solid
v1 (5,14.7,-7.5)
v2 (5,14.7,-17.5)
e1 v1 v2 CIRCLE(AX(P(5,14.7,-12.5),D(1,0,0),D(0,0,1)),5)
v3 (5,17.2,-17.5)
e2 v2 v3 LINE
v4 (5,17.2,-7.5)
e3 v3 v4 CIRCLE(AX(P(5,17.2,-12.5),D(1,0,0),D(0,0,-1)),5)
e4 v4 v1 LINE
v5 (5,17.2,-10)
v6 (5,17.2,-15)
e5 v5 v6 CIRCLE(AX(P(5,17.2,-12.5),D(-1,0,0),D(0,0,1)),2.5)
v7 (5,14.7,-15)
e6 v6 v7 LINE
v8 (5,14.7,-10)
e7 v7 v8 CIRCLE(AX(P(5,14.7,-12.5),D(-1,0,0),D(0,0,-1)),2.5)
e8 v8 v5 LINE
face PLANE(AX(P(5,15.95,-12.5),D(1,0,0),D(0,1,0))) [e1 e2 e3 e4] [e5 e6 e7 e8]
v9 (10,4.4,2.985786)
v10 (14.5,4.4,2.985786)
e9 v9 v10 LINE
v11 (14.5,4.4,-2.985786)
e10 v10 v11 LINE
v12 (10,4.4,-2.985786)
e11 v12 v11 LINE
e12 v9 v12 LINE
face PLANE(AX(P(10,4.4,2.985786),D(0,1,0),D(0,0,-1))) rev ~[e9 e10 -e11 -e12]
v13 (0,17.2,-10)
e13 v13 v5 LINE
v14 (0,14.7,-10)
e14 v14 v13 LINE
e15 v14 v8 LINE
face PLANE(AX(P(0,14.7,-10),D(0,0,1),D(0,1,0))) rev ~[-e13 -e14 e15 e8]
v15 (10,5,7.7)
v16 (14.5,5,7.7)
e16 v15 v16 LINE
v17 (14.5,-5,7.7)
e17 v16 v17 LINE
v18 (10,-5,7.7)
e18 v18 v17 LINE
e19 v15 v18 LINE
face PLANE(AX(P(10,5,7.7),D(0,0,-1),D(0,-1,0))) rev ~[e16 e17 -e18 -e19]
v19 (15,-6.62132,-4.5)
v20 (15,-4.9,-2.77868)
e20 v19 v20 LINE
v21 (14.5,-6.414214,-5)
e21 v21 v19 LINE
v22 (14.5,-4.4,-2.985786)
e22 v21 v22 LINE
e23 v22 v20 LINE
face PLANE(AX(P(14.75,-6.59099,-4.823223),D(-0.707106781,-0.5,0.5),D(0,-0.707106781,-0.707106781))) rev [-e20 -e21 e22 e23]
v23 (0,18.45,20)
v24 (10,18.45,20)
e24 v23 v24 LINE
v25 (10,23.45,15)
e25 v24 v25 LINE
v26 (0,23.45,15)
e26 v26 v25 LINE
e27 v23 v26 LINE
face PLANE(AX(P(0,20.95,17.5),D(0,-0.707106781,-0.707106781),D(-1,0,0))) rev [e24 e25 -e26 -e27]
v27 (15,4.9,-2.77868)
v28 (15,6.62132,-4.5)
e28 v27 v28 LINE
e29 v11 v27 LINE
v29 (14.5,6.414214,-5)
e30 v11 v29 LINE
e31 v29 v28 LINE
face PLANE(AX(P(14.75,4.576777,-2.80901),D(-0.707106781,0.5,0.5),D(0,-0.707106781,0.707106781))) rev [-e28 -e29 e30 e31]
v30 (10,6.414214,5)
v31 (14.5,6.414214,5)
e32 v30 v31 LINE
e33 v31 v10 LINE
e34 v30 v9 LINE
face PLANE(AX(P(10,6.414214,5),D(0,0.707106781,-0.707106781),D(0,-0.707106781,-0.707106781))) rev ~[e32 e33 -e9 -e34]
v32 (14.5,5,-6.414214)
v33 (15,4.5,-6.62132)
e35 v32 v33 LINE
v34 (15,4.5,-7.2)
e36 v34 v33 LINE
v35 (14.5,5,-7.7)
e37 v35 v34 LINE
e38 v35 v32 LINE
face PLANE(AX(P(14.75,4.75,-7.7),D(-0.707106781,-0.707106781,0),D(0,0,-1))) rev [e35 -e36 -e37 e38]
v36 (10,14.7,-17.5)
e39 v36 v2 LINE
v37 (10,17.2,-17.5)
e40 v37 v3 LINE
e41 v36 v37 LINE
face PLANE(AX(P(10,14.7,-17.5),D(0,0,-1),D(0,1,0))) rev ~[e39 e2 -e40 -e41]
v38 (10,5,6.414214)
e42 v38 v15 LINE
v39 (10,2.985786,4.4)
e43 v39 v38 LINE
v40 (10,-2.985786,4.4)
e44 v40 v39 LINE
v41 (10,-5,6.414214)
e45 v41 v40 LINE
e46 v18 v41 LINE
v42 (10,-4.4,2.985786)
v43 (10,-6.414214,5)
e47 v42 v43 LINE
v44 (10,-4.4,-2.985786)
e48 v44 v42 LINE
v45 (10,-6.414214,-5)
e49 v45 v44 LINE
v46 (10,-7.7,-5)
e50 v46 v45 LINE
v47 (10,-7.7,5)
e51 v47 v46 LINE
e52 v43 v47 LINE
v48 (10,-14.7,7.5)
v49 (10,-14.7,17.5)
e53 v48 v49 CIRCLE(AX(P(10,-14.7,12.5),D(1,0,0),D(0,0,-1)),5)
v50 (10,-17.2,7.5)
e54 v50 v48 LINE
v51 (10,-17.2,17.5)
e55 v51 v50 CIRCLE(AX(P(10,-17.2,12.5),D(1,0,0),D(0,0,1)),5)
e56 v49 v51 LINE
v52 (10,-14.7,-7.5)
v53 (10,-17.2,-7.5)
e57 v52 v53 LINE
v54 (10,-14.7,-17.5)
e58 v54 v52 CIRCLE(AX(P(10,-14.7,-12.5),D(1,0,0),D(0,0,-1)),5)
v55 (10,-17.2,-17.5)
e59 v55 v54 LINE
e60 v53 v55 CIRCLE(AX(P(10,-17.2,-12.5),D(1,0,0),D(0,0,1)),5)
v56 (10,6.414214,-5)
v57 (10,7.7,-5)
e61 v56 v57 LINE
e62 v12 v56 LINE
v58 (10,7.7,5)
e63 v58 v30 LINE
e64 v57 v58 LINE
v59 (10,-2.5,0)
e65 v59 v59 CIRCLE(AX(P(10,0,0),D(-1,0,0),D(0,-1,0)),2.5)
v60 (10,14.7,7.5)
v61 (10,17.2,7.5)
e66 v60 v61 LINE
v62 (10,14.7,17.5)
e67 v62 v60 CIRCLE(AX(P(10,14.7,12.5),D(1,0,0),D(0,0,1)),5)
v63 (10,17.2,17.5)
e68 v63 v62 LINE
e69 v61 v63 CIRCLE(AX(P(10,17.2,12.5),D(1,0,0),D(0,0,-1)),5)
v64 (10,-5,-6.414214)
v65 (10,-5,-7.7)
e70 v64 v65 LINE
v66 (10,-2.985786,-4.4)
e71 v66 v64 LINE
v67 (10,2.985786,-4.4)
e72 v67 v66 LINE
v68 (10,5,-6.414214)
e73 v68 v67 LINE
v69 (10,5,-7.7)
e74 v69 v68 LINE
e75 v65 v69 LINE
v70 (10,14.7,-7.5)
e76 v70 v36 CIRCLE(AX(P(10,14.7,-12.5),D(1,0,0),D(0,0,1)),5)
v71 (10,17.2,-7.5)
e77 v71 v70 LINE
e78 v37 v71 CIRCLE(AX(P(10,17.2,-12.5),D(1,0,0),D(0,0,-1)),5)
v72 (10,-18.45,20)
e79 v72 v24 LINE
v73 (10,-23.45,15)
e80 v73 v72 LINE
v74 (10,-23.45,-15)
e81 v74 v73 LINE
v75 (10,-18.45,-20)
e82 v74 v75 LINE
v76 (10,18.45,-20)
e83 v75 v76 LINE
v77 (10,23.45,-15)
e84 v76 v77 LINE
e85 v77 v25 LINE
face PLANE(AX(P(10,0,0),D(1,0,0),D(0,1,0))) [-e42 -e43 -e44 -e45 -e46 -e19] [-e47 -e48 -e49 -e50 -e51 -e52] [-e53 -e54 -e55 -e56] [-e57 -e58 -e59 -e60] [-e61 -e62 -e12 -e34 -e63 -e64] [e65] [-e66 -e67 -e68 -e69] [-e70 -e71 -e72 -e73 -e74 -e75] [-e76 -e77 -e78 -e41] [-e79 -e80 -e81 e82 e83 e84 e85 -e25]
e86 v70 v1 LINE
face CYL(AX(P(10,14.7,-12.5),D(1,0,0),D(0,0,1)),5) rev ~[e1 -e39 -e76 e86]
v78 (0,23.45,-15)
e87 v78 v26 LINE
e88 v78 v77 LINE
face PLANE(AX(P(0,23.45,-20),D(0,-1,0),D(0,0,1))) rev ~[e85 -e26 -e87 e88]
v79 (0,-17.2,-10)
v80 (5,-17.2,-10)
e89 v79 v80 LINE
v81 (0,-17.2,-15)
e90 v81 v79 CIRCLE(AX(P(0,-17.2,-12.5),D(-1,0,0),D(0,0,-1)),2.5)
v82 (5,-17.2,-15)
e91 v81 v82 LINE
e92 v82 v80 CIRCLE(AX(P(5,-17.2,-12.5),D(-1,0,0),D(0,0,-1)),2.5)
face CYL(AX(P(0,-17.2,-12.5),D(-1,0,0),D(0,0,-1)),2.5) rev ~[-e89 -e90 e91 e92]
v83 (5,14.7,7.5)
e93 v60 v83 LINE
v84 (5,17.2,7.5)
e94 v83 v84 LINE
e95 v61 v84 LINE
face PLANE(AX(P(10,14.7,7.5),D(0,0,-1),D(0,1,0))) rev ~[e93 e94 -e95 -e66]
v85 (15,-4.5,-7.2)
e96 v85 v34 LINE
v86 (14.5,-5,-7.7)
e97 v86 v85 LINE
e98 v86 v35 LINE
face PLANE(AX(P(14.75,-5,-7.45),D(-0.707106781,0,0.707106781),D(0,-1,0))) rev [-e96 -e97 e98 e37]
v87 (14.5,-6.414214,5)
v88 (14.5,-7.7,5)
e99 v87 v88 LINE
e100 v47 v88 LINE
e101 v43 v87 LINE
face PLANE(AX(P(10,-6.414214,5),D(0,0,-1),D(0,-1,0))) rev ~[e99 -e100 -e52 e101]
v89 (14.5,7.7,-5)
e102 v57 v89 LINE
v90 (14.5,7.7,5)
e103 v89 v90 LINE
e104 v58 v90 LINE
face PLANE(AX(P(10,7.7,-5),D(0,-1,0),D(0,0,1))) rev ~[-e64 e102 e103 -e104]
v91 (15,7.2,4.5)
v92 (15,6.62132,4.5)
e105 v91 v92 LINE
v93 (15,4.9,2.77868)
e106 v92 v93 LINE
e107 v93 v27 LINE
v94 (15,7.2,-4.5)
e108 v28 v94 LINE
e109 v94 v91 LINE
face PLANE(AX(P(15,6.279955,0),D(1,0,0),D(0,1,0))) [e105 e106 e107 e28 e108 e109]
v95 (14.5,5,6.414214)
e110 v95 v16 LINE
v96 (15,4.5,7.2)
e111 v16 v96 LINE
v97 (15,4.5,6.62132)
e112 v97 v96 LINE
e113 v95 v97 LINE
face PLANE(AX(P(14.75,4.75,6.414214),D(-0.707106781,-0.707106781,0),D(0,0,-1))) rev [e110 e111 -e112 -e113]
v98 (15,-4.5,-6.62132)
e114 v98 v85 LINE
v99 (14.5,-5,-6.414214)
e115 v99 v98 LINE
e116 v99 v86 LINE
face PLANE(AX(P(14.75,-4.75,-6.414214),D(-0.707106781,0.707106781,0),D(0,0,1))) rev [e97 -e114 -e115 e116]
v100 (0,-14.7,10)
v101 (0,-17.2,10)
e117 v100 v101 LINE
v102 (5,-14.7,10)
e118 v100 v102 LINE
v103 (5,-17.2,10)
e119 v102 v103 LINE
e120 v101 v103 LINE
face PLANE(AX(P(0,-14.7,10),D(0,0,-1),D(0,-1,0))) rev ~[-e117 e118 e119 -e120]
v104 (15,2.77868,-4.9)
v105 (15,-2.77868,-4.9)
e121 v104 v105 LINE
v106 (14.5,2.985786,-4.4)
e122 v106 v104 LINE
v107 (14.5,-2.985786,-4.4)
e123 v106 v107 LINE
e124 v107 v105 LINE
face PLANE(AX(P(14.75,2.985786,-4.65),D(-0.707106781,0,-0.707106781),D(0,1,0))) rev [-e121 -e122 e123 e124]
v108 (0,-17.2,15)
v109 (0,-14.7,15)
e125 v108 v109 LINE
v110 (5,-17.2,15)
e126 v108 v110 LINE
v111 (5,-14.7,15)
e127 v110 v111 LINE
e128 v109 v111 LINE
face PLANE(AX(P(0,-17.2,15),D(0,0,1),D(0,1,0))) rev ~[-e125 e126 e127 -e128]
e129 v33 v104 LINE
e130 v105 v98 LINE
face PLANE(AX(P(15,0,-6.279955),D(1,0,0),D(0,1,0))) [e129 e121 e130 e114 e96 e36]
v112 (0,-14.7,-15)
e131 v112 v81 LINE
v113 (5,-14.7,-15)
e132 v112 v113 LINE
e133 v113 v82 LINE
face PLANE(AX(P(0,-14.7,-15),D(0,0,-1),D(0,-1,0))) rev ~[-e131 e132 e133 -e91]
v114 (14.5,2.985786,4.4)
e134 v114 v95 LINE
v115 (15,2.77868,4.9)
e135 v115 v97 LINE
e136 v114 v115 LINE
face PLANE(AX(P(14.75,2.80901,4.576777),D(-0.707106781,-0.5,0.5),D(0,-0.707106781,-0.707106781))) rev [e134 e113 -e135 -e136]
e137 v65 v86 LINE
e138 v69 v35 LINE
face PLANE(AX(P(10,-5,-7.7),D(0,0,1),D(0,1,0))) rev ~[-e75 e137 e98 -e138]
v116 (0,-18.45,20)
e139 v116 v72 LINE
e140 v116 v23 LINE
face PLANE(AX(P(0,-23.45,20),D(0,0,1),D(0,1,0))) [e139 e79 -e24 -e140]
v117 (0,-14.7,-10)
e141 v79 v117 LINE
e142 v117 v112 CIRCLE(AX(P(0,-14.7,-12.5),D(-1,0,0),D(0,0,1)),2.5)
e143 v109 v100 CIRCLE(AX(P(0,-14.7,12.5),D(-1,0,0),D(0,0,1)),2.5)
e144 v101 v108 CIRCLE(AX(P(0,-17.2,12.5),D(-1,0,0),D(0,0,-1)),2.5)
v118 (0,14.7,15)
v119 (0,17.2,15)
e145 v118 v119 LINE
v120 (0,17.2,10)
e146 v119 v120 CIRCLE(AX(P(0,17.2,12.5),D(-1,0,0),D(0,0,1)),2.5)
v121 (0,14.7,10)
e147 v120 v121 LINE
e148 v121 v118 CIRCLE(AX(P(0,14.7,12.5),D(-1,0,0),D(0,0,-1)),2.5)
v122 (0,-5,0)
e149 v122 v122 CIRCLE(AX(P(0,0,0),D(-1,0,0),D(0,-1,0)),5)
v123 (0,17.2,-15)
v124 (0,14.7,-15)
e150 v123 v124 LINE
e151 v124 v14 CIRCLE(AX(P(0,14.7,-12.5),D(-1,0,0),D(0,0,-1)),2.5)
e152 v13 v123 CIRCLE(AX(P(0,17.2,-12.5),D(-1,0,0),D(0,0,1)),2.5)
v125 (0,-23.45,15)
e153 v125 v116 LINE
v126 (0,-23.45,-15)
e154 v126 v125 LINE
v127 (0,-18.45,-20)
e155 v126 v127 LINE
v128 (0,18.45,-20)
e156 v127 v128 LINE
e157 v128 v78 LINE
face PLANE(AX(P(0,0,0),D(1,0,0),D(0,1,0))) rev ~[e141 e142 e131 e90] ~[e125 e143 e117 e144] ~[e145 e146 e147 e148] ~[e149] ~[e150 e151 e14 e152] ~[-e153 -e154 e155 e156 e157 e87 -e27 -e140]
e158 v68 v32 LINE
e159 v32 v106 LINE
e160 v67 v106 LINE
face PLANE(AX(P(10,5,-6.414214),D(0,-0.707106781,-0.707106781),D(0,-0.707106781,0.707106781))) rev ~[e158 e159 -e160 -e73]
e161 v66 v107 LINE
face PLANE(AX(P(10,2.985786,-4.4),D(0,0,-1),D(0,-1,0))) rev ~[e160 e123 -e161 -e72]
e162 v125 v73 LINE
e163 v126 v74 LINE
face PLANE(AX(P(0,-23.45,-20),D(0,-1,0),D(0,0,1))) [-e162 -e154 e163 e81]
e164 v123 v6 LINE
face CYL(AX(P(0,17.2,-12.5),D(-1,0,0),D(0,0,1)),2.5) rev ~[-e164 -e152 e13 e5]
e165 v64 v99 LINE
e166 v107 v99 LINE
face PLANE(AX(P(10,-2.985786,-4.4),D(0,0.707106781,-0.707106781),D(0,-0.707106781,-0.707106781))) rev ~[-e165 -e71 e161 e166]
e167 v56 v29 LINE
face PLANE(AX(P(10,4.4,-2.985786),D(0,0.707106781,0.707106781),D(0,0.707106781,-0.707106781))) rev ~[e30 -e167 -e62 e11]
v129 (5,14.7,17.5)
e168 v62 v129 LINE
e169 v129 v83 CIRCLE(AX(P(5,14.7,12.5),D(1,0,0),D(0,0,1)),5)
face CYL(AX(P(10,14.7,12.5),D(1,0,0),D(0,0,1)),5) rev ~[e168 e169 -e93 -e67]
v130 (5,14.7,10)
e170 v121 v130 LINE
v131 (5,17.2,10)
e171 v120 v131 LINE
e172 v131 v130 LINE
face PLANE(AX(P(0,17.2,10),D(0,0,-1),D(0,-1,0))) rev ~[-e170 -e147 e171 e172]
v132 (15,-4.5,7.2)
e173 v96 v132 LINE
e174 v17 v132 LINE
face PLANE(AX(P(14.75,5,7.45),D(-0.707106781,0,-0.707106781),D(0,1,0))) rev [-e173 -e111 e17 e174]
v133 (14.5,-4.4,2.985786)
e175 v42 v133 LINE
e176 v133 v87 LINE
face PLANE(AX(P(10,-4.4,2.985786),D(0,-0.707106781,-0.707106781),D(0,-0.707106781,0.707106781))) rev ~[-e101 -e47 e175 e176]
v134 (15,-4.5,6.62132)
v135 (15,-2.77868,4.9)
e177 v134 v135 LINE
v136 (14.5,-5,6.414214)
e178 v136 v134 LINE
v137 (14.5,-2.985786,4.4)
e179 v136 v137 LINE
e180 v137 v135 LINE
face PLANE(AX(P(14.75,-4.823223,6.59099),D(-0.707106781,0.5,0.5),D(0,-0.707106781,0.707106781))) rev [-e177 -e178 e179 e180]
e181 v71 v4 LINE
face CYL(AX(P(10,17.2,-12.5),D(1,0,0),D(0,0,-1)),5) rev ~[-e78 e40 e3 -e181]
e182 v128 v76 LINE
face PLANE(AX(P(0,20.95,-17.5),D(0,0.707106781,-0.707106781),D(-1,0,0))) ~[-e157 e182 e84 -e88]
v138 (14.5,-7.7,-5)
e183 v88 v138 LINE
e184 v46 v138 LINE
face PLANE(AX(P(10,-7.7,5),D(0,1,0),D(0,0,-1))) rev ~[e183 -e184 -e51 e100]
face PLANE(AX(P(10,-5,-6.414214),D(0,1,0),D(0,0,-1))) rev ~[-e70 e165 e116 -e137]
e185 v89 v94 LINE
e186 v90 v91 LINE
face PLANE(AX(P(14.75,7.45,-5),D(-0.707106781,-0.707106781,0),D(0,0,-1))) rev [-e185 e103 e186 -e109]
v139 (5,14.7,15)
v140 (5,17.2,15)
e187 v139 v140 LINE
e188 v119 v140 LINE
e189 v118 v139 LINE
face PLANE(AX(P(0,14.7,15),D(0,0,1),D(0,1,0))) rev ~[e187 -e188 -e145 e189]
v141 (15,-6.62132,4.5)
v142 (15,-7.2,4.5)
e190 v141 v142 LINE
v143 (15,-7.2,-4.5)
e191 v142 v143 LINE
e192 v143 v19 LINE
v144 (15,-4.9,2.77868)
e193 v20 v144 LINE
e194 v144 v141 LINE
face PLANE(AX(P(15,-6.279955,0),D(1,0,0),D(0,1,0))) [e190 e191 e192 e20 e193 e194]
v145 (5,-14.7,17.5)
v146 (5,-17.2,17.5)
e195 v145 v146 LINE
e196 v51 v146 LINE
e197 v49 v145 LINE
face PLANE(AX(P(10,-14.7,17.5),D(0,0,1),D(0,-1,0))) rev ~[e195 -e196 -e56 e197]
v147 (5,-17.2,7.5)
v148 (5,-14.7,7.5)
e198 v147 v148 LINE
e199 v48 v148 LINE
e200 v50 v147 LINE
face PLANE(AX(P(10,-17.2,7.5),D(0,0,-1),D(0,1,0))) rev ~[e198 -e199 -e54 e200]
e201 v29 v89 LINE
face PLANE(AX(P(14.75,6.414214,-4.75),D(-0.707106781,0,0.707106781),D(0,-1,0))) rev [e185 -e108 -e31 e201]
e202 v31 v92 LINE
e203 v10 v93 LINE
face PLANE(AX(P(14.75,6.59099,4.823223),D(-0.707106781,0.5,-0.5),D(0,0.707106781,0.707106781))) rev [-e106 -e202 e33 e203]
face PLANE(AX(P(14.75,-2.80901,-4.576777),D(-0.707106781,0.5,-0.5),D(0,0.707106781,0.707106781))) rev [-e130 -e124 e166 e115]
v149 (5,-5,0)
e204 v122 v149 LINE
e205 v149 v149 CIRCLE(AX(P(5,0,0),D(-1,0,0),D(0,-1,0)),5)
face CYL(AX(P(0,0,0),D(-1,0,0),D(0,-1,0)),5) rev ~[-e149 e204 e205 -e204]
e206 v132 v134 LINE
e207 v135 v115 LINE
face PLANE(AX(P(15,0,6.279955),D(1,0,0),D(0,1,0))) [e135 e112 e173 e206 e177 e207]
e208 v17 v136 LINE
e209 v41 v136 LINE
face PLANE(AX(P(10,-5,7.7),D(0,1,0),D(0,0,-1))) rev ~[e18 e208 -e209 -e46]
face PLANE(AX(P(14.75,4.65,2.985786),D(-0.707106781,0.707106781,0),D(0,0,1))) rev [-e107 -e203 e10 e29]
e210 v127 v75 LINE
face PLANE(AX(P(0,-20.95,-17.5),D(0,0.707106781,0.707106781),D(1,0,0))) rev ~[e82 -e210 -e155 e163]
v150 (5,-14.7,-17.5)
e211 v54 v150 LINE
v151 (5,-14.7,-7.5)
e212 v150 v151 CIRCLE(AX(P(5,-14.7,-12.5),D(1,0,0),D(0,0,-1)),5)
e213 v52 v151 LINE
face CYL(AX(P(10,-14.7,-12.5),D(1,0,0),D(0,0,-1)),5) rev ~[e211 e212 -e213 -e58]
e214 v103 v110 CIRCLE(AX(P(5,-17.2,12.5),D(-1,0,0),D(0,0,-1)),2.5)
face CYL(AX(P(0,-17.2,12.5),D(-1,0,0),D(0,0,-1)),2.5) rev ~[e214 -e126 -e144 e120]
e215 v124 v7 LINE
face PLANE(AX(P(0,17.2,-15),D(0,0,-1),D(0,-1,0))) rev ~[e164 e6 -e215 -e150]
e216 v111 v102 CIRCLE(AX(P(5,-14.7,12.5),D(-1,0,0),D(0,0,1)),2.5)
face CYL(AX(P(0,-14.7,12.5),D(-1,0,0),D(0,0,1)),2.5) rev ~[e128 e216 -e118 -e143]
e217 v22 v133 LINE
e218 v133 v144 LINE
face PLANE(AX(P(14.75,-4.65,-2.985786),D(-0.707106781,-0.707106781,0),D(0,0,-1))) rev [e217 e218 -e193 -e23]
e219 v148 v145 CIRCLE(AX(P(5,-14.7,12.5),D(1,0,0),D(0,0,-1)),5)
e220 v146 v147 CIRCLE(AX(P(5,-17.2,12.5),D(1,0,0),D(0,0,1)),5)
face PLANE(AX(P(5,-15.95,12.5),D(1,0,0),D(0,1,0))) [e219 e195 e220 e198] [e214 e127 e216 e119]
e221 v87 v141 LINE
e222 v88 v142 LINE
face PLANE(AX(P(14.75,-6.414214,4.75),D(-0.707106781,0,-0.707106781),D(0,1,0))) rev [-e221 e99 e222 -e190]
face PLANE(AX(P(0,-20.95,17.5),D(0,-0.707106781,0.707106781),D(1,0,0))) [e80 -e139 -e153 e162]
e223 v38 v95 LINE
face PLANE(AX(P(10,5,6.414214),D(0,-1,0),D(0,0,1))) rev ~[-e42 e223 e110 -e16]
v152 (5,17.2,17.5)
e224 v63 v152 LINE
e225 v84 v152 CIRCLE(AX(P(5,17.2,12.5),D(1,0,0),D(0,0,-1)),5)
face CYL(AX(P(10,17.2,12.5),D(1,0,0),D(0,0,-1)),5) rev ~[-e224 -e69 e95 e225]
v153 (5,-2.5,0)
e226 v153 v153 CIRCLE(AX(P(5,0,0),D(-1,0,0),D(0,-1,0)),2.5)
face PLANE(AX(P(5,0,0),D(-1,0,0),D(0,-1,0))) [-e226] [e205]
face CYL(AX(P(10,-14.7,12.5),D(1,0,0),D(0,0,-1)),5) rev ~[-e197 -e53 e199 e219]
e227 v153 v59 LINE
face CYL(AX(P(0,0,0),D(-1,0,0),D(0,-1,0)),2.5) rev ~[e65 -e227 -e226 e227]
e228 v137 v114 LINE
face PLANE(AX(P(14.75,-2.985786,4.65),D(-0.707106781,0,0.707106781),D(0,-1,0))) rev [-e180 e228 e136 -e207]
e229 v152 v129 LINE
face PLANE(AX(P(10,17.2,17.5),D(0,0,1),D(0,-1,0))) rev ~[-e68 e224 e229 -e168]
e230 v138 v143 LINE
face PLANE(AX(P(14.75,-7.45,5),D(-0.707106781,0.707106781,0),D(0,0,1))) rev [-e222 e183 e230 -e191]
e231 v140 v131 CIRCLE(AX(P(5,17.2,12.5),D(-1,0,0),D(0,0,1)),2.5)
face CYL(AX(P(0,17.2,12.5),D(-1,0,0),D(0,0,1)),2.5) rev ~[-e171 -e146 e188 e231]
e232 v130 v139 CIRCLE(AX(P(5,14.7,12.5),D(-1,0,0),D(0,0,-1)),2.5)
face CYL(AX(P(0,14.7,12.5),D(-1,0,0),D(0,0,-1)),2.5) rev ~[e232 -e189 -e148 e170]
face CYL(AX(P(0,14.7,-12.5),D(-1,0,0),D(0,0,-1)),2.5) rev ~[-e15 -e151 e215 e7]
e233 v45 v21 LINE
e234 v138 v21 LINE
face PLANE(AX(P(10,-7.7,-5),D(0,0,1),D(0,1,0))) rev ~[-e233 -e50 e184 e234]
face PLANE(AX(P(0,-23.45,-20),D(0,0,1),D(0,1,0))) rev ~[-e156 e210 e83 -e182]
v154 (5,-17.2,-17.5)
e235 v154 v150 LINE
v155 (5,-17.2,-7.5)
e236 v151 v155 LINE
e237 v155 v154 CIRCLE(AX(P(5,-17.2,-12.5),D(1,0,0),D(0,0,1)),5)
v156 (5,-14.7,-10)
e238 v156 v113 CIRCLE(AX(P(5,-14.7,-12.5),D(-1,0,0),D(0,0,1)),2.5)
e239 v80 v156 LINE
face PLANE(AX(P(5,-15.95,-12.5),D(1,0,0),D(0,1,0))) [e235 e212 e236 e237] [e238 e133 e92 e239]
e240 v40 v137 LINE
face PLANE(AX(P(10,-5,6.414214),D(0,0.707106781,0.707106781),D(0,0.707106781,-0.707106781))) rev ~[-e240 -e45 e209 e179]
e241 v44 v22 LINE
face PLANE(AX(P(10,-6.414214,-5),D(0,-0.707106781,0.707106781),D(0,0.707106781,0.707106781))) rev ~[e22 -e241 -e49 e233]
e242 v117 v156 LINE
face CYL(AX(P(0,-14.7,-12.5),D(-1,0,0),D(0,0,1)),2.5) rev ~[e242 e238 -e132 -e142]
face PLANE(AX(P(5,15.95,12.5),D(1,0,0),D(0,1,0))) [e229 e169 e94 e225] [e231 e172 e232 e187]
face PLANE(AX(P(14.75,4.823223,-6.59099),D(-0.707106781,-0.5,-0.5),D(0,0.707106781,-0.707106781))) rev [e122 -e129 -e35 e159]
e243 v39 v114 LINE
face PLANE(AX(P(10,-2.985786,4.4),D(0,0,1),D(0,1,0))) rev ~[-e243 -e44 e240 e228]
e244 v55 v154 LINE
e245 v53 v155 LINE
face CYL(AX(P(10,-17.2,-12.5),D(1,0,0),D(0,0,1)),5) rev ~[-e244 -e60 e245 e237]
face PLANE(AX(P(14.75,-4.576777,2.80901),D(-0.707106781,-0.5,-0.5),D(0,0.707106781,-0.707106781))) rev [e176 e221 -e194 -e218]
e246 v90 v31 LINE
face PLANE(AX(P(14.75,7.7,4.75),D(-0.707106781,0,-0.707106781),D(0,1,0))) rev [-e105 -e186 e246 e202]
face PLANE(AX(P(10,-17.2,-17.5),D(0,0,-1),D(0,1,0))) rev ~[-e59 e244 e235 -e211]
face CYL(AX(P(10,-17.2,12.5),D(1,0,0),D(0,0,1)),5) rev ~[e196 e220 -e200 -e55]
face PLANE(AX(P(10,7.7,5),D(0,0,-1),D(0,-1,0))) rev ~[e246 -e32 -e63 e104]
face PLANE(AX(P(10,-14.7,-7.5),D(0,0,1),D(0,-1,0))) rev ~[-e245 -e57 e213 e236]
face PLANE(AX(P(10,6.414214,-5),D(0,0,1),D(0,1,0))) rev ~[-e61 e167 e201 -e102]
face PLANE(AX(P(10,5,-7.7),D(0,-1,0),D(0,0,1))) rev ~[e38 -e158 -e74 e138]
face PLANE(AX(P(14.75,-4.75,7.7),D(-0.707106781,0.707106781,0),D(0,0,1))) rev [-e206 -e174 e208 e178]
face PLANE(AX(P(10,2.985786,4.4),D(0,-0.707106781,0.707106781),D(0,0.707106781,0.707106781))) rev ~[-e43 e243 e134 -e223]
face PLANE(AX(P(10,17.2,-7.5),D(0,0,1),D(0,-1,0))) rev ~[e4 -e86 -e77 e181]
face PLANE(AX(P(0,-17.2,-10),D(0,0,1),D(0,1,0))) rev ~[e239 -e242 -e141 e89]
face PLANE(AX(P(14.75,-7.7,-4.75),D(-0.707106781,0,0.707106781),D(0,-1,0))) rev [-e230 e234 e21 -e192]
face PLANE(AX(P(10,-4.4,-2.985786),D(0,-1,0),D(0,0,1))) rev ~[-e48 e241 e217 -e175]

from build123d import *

# Parameters (mm, degrees)
F0_W      = 46.9
F0_H      = 40
F1_DEPTH  = 10
F2_SIZE   = 5
F4_DEPTH  = 5
F5_SIZE   = 0.5
F6_R      = 5
F6_R_2    = 2.5
F7_DEPTH  = 5
F8_DEPTH  = 15.001
F10_DEPTH = 5


with BuildPart() as f1:
    # F0 (on Right) → F1 (new body)
    with BuildSketch(Plane.YZ):
        Rectangle(F0_W, F0_H)
        with BuildLine():
            Line((-14.7, -15), (-17.2, -15))
            ThreePointArc((-17.2, -15), (-19.7, -12.5), (-17.2, -10))
            Line((-17.2, -10), (-14.7, -10))
            ThreePointArc((-14.7, -10), (-12.2, -12.5), (-14.7, -15))
        make_face(mode=Mode.SUBTRACT)
        with BuildLine():
            ThreePointArc((14.7, -15), (12.2, -12.5), (14.7, -10))
            Line((14.7, -10), (17.2, -10))
            ThreePointArc((17.2, -10), (19.7, -12.5), (17.2, -15))
            Line((17.2, -15), (14.7, -15))
        make_face(mode=Mode.SUBTRACT)
        with BuildLine():
            ThreePointArc((-14.7, 15), (-12.2, 12.5), (-14.7, 10))
            Line((-14.7, 10), (-17.2, 10))
            ThreePointArc((-17.2, 10), (-19.7, 12.5), (-17.2, 15))
            Line((-17.2, 15), (-14.7, 15))
        make_face(mode=Mode.SUBTRACT)
        with BuildLine():
            Line((17.2, 10), (14.7, 10))
            ThreePointArc((14.7, 10), (12.2, 12.5), (14.7, 15))
            Line((14.7, 15), (17.2, 15))
            ThreePointArc((17.2, 15), (19.7, 12.5), (17.2, 10))
        make_face(mode=Mode.SUBTRACT)
    extrude(amount=F1_DEPTH)

    # F2
    f2_edges = [f1.edges().sort_by_distance(p)[0] for p in [
        (5, -23.45, -20),
        (5, -23.45, 20),
        (5, 23.45, -20),
        (5, 23.45, 20),
    ]]
    chamfer(f2_edges, length=F2_SIZE)

    # F3 (on face) → F4 (join)
    with BuildSketch(Plane.YZ.offset(10)):
        Polygon((0, 4.4), (2.9857864376, 4.4), (5, 6.4142135624), (5, 7.7), (-5, 7.7), (-5, 6.4142135624), (-2.9857864376, 4.4), align=None)
        Polygon((-7.7, 5), (-7.7, -5), (-6.4142135624, -5), (-4.4, -2.9857864376), (-4.4, 0), (-4.4, 2.9857864376), (-6.4142135624, 5), align=None)
        Polygon((-5, -7.7), (5, -7.7), (5, -6.4142135624), (2.9857864376, -4.4), (0, -4.4), (-2.9857864376, -4.4), (-5, -6.4142135624), align=None)
        Polygon((7.7, -5), (7.7, 5), (6.4142135624, 5), (4.4, 2.9857864376), (4.4, 0), (4.4, -2.9857864376), (6.4142135624, -5), align=None)
    extrude(amount=F4_DEPTH)

    # F5
    f5_edges = [f1.edges().sort_by_distance(p)[0] for p in [
        (15, -5, -7.057107),
        (15, 0, -7.7),
        (15, 5, -7.057107),
        (15, 3.992893, -5.407107),
        (15, 0, -4.4),
        (15, -3.992893, -5.407107),
        (15, -7.057107, 5),
        (15, -7.7, 0),
        (15, -7.057107, -5),
        (15, -5.407107, -3.992893),
        (15, -4.4, 0),
        (15, -5.407107, 3.992893),
        (15, 0, 4.4),
        (15, 3.992893, 5.407107),
        (15, 5, 7.057107),
        (15, 0, 7.7),
        (15, -5, 7.057107),
        (15, -3.992893, 5.407107),
        (15, 4.4, 0),
        (15, 5.407107, -3.992893),
        (15, 7.057107, -5),
        (15, 7.7, 0),
        (15, 7.057107, 5),
        (15, 5.407107, 3.992893),
    ]]
    chamfer(f5_edges, length=F5_SIZE)

    # F6 (on face) → F7 (cut)
    with BuildSketch(Plane(origin=(0, 0, 0), x_dir=(0, -1, 0), z_dir=(-1, 0, 0))):
        Circle(F6_R)
        Circle(F6_R_2, mode=Mode.SUBTRACT)
    extrude(amount=-F7_DEPTH, mode=Mode.SUBTRACT)

    # F8 (cut, through all): a face of the model
    f8_faces = [f1.faces().sort_by_distance(p)[0] for p in [
        (0, 0, 0),
    ]]
    extrude(f8_faces, amount=-F8_DEPTH, mode=Mode.SUBTRACT)

    # F9 (on face) → F10 (cut)
    with BuildSketch(Plane.YZ.offset(10)):
        with BuildLine():
            ThreePointArc((17.2, 7.5), (22.2, 12.5), (17.2, 17.5))
            Line((17.2, 17.5), (14.7, 17.5))
            ThreePointArc((14.7, 17.5), (9.7, 12.5), (14.7, 7.5))
            Line((14.7, 7.5), (17.2, 7.5))
        make_face()
        with BuildLine():
            ThreePointArc((-14.7, 7.5), (-9.7, 12.5), (-14.7, 17.5))
            Line((-14.7, 17.5), (-17.2, 17.5))
            ThreePointArc((-17.2, 17.5), (-22.2, 12.5), (-17.2, 7.5))
            Line((-17.2, 7.5), (-14.7, 7.5))
        make_face()
        with BuildLine():
            ThreePointArc((-17.2, -7.5), (-22.2, -12.5), (-17.2, -17.5))
            Line((-17.2, -17.5), (-14.7, -17.5))
            ThreePointArc((-14.7, -17.5), (-9.7, -12.5), (-14.7, -7.5))
            Line((-14.7, -7.5), (-17.2, -7.5))
        make_face()
        with BuildLine():
            ThreePointArc((14.7, -7.5), (9.7, -12.5), (14.7, -17.5))
            Line((14.7, -17.5), (17.2, -17.5))
            ThreePointArc((17.2, -17.5), (22.2, -12.5), (17.2, -7.5))
            Line((17.2, -7.5), (14.7, -7.5))
        make_face()
    extrude(amount=-F10_DEPTH, mode=Mode.SUBTRACT)


solid = f1.part
